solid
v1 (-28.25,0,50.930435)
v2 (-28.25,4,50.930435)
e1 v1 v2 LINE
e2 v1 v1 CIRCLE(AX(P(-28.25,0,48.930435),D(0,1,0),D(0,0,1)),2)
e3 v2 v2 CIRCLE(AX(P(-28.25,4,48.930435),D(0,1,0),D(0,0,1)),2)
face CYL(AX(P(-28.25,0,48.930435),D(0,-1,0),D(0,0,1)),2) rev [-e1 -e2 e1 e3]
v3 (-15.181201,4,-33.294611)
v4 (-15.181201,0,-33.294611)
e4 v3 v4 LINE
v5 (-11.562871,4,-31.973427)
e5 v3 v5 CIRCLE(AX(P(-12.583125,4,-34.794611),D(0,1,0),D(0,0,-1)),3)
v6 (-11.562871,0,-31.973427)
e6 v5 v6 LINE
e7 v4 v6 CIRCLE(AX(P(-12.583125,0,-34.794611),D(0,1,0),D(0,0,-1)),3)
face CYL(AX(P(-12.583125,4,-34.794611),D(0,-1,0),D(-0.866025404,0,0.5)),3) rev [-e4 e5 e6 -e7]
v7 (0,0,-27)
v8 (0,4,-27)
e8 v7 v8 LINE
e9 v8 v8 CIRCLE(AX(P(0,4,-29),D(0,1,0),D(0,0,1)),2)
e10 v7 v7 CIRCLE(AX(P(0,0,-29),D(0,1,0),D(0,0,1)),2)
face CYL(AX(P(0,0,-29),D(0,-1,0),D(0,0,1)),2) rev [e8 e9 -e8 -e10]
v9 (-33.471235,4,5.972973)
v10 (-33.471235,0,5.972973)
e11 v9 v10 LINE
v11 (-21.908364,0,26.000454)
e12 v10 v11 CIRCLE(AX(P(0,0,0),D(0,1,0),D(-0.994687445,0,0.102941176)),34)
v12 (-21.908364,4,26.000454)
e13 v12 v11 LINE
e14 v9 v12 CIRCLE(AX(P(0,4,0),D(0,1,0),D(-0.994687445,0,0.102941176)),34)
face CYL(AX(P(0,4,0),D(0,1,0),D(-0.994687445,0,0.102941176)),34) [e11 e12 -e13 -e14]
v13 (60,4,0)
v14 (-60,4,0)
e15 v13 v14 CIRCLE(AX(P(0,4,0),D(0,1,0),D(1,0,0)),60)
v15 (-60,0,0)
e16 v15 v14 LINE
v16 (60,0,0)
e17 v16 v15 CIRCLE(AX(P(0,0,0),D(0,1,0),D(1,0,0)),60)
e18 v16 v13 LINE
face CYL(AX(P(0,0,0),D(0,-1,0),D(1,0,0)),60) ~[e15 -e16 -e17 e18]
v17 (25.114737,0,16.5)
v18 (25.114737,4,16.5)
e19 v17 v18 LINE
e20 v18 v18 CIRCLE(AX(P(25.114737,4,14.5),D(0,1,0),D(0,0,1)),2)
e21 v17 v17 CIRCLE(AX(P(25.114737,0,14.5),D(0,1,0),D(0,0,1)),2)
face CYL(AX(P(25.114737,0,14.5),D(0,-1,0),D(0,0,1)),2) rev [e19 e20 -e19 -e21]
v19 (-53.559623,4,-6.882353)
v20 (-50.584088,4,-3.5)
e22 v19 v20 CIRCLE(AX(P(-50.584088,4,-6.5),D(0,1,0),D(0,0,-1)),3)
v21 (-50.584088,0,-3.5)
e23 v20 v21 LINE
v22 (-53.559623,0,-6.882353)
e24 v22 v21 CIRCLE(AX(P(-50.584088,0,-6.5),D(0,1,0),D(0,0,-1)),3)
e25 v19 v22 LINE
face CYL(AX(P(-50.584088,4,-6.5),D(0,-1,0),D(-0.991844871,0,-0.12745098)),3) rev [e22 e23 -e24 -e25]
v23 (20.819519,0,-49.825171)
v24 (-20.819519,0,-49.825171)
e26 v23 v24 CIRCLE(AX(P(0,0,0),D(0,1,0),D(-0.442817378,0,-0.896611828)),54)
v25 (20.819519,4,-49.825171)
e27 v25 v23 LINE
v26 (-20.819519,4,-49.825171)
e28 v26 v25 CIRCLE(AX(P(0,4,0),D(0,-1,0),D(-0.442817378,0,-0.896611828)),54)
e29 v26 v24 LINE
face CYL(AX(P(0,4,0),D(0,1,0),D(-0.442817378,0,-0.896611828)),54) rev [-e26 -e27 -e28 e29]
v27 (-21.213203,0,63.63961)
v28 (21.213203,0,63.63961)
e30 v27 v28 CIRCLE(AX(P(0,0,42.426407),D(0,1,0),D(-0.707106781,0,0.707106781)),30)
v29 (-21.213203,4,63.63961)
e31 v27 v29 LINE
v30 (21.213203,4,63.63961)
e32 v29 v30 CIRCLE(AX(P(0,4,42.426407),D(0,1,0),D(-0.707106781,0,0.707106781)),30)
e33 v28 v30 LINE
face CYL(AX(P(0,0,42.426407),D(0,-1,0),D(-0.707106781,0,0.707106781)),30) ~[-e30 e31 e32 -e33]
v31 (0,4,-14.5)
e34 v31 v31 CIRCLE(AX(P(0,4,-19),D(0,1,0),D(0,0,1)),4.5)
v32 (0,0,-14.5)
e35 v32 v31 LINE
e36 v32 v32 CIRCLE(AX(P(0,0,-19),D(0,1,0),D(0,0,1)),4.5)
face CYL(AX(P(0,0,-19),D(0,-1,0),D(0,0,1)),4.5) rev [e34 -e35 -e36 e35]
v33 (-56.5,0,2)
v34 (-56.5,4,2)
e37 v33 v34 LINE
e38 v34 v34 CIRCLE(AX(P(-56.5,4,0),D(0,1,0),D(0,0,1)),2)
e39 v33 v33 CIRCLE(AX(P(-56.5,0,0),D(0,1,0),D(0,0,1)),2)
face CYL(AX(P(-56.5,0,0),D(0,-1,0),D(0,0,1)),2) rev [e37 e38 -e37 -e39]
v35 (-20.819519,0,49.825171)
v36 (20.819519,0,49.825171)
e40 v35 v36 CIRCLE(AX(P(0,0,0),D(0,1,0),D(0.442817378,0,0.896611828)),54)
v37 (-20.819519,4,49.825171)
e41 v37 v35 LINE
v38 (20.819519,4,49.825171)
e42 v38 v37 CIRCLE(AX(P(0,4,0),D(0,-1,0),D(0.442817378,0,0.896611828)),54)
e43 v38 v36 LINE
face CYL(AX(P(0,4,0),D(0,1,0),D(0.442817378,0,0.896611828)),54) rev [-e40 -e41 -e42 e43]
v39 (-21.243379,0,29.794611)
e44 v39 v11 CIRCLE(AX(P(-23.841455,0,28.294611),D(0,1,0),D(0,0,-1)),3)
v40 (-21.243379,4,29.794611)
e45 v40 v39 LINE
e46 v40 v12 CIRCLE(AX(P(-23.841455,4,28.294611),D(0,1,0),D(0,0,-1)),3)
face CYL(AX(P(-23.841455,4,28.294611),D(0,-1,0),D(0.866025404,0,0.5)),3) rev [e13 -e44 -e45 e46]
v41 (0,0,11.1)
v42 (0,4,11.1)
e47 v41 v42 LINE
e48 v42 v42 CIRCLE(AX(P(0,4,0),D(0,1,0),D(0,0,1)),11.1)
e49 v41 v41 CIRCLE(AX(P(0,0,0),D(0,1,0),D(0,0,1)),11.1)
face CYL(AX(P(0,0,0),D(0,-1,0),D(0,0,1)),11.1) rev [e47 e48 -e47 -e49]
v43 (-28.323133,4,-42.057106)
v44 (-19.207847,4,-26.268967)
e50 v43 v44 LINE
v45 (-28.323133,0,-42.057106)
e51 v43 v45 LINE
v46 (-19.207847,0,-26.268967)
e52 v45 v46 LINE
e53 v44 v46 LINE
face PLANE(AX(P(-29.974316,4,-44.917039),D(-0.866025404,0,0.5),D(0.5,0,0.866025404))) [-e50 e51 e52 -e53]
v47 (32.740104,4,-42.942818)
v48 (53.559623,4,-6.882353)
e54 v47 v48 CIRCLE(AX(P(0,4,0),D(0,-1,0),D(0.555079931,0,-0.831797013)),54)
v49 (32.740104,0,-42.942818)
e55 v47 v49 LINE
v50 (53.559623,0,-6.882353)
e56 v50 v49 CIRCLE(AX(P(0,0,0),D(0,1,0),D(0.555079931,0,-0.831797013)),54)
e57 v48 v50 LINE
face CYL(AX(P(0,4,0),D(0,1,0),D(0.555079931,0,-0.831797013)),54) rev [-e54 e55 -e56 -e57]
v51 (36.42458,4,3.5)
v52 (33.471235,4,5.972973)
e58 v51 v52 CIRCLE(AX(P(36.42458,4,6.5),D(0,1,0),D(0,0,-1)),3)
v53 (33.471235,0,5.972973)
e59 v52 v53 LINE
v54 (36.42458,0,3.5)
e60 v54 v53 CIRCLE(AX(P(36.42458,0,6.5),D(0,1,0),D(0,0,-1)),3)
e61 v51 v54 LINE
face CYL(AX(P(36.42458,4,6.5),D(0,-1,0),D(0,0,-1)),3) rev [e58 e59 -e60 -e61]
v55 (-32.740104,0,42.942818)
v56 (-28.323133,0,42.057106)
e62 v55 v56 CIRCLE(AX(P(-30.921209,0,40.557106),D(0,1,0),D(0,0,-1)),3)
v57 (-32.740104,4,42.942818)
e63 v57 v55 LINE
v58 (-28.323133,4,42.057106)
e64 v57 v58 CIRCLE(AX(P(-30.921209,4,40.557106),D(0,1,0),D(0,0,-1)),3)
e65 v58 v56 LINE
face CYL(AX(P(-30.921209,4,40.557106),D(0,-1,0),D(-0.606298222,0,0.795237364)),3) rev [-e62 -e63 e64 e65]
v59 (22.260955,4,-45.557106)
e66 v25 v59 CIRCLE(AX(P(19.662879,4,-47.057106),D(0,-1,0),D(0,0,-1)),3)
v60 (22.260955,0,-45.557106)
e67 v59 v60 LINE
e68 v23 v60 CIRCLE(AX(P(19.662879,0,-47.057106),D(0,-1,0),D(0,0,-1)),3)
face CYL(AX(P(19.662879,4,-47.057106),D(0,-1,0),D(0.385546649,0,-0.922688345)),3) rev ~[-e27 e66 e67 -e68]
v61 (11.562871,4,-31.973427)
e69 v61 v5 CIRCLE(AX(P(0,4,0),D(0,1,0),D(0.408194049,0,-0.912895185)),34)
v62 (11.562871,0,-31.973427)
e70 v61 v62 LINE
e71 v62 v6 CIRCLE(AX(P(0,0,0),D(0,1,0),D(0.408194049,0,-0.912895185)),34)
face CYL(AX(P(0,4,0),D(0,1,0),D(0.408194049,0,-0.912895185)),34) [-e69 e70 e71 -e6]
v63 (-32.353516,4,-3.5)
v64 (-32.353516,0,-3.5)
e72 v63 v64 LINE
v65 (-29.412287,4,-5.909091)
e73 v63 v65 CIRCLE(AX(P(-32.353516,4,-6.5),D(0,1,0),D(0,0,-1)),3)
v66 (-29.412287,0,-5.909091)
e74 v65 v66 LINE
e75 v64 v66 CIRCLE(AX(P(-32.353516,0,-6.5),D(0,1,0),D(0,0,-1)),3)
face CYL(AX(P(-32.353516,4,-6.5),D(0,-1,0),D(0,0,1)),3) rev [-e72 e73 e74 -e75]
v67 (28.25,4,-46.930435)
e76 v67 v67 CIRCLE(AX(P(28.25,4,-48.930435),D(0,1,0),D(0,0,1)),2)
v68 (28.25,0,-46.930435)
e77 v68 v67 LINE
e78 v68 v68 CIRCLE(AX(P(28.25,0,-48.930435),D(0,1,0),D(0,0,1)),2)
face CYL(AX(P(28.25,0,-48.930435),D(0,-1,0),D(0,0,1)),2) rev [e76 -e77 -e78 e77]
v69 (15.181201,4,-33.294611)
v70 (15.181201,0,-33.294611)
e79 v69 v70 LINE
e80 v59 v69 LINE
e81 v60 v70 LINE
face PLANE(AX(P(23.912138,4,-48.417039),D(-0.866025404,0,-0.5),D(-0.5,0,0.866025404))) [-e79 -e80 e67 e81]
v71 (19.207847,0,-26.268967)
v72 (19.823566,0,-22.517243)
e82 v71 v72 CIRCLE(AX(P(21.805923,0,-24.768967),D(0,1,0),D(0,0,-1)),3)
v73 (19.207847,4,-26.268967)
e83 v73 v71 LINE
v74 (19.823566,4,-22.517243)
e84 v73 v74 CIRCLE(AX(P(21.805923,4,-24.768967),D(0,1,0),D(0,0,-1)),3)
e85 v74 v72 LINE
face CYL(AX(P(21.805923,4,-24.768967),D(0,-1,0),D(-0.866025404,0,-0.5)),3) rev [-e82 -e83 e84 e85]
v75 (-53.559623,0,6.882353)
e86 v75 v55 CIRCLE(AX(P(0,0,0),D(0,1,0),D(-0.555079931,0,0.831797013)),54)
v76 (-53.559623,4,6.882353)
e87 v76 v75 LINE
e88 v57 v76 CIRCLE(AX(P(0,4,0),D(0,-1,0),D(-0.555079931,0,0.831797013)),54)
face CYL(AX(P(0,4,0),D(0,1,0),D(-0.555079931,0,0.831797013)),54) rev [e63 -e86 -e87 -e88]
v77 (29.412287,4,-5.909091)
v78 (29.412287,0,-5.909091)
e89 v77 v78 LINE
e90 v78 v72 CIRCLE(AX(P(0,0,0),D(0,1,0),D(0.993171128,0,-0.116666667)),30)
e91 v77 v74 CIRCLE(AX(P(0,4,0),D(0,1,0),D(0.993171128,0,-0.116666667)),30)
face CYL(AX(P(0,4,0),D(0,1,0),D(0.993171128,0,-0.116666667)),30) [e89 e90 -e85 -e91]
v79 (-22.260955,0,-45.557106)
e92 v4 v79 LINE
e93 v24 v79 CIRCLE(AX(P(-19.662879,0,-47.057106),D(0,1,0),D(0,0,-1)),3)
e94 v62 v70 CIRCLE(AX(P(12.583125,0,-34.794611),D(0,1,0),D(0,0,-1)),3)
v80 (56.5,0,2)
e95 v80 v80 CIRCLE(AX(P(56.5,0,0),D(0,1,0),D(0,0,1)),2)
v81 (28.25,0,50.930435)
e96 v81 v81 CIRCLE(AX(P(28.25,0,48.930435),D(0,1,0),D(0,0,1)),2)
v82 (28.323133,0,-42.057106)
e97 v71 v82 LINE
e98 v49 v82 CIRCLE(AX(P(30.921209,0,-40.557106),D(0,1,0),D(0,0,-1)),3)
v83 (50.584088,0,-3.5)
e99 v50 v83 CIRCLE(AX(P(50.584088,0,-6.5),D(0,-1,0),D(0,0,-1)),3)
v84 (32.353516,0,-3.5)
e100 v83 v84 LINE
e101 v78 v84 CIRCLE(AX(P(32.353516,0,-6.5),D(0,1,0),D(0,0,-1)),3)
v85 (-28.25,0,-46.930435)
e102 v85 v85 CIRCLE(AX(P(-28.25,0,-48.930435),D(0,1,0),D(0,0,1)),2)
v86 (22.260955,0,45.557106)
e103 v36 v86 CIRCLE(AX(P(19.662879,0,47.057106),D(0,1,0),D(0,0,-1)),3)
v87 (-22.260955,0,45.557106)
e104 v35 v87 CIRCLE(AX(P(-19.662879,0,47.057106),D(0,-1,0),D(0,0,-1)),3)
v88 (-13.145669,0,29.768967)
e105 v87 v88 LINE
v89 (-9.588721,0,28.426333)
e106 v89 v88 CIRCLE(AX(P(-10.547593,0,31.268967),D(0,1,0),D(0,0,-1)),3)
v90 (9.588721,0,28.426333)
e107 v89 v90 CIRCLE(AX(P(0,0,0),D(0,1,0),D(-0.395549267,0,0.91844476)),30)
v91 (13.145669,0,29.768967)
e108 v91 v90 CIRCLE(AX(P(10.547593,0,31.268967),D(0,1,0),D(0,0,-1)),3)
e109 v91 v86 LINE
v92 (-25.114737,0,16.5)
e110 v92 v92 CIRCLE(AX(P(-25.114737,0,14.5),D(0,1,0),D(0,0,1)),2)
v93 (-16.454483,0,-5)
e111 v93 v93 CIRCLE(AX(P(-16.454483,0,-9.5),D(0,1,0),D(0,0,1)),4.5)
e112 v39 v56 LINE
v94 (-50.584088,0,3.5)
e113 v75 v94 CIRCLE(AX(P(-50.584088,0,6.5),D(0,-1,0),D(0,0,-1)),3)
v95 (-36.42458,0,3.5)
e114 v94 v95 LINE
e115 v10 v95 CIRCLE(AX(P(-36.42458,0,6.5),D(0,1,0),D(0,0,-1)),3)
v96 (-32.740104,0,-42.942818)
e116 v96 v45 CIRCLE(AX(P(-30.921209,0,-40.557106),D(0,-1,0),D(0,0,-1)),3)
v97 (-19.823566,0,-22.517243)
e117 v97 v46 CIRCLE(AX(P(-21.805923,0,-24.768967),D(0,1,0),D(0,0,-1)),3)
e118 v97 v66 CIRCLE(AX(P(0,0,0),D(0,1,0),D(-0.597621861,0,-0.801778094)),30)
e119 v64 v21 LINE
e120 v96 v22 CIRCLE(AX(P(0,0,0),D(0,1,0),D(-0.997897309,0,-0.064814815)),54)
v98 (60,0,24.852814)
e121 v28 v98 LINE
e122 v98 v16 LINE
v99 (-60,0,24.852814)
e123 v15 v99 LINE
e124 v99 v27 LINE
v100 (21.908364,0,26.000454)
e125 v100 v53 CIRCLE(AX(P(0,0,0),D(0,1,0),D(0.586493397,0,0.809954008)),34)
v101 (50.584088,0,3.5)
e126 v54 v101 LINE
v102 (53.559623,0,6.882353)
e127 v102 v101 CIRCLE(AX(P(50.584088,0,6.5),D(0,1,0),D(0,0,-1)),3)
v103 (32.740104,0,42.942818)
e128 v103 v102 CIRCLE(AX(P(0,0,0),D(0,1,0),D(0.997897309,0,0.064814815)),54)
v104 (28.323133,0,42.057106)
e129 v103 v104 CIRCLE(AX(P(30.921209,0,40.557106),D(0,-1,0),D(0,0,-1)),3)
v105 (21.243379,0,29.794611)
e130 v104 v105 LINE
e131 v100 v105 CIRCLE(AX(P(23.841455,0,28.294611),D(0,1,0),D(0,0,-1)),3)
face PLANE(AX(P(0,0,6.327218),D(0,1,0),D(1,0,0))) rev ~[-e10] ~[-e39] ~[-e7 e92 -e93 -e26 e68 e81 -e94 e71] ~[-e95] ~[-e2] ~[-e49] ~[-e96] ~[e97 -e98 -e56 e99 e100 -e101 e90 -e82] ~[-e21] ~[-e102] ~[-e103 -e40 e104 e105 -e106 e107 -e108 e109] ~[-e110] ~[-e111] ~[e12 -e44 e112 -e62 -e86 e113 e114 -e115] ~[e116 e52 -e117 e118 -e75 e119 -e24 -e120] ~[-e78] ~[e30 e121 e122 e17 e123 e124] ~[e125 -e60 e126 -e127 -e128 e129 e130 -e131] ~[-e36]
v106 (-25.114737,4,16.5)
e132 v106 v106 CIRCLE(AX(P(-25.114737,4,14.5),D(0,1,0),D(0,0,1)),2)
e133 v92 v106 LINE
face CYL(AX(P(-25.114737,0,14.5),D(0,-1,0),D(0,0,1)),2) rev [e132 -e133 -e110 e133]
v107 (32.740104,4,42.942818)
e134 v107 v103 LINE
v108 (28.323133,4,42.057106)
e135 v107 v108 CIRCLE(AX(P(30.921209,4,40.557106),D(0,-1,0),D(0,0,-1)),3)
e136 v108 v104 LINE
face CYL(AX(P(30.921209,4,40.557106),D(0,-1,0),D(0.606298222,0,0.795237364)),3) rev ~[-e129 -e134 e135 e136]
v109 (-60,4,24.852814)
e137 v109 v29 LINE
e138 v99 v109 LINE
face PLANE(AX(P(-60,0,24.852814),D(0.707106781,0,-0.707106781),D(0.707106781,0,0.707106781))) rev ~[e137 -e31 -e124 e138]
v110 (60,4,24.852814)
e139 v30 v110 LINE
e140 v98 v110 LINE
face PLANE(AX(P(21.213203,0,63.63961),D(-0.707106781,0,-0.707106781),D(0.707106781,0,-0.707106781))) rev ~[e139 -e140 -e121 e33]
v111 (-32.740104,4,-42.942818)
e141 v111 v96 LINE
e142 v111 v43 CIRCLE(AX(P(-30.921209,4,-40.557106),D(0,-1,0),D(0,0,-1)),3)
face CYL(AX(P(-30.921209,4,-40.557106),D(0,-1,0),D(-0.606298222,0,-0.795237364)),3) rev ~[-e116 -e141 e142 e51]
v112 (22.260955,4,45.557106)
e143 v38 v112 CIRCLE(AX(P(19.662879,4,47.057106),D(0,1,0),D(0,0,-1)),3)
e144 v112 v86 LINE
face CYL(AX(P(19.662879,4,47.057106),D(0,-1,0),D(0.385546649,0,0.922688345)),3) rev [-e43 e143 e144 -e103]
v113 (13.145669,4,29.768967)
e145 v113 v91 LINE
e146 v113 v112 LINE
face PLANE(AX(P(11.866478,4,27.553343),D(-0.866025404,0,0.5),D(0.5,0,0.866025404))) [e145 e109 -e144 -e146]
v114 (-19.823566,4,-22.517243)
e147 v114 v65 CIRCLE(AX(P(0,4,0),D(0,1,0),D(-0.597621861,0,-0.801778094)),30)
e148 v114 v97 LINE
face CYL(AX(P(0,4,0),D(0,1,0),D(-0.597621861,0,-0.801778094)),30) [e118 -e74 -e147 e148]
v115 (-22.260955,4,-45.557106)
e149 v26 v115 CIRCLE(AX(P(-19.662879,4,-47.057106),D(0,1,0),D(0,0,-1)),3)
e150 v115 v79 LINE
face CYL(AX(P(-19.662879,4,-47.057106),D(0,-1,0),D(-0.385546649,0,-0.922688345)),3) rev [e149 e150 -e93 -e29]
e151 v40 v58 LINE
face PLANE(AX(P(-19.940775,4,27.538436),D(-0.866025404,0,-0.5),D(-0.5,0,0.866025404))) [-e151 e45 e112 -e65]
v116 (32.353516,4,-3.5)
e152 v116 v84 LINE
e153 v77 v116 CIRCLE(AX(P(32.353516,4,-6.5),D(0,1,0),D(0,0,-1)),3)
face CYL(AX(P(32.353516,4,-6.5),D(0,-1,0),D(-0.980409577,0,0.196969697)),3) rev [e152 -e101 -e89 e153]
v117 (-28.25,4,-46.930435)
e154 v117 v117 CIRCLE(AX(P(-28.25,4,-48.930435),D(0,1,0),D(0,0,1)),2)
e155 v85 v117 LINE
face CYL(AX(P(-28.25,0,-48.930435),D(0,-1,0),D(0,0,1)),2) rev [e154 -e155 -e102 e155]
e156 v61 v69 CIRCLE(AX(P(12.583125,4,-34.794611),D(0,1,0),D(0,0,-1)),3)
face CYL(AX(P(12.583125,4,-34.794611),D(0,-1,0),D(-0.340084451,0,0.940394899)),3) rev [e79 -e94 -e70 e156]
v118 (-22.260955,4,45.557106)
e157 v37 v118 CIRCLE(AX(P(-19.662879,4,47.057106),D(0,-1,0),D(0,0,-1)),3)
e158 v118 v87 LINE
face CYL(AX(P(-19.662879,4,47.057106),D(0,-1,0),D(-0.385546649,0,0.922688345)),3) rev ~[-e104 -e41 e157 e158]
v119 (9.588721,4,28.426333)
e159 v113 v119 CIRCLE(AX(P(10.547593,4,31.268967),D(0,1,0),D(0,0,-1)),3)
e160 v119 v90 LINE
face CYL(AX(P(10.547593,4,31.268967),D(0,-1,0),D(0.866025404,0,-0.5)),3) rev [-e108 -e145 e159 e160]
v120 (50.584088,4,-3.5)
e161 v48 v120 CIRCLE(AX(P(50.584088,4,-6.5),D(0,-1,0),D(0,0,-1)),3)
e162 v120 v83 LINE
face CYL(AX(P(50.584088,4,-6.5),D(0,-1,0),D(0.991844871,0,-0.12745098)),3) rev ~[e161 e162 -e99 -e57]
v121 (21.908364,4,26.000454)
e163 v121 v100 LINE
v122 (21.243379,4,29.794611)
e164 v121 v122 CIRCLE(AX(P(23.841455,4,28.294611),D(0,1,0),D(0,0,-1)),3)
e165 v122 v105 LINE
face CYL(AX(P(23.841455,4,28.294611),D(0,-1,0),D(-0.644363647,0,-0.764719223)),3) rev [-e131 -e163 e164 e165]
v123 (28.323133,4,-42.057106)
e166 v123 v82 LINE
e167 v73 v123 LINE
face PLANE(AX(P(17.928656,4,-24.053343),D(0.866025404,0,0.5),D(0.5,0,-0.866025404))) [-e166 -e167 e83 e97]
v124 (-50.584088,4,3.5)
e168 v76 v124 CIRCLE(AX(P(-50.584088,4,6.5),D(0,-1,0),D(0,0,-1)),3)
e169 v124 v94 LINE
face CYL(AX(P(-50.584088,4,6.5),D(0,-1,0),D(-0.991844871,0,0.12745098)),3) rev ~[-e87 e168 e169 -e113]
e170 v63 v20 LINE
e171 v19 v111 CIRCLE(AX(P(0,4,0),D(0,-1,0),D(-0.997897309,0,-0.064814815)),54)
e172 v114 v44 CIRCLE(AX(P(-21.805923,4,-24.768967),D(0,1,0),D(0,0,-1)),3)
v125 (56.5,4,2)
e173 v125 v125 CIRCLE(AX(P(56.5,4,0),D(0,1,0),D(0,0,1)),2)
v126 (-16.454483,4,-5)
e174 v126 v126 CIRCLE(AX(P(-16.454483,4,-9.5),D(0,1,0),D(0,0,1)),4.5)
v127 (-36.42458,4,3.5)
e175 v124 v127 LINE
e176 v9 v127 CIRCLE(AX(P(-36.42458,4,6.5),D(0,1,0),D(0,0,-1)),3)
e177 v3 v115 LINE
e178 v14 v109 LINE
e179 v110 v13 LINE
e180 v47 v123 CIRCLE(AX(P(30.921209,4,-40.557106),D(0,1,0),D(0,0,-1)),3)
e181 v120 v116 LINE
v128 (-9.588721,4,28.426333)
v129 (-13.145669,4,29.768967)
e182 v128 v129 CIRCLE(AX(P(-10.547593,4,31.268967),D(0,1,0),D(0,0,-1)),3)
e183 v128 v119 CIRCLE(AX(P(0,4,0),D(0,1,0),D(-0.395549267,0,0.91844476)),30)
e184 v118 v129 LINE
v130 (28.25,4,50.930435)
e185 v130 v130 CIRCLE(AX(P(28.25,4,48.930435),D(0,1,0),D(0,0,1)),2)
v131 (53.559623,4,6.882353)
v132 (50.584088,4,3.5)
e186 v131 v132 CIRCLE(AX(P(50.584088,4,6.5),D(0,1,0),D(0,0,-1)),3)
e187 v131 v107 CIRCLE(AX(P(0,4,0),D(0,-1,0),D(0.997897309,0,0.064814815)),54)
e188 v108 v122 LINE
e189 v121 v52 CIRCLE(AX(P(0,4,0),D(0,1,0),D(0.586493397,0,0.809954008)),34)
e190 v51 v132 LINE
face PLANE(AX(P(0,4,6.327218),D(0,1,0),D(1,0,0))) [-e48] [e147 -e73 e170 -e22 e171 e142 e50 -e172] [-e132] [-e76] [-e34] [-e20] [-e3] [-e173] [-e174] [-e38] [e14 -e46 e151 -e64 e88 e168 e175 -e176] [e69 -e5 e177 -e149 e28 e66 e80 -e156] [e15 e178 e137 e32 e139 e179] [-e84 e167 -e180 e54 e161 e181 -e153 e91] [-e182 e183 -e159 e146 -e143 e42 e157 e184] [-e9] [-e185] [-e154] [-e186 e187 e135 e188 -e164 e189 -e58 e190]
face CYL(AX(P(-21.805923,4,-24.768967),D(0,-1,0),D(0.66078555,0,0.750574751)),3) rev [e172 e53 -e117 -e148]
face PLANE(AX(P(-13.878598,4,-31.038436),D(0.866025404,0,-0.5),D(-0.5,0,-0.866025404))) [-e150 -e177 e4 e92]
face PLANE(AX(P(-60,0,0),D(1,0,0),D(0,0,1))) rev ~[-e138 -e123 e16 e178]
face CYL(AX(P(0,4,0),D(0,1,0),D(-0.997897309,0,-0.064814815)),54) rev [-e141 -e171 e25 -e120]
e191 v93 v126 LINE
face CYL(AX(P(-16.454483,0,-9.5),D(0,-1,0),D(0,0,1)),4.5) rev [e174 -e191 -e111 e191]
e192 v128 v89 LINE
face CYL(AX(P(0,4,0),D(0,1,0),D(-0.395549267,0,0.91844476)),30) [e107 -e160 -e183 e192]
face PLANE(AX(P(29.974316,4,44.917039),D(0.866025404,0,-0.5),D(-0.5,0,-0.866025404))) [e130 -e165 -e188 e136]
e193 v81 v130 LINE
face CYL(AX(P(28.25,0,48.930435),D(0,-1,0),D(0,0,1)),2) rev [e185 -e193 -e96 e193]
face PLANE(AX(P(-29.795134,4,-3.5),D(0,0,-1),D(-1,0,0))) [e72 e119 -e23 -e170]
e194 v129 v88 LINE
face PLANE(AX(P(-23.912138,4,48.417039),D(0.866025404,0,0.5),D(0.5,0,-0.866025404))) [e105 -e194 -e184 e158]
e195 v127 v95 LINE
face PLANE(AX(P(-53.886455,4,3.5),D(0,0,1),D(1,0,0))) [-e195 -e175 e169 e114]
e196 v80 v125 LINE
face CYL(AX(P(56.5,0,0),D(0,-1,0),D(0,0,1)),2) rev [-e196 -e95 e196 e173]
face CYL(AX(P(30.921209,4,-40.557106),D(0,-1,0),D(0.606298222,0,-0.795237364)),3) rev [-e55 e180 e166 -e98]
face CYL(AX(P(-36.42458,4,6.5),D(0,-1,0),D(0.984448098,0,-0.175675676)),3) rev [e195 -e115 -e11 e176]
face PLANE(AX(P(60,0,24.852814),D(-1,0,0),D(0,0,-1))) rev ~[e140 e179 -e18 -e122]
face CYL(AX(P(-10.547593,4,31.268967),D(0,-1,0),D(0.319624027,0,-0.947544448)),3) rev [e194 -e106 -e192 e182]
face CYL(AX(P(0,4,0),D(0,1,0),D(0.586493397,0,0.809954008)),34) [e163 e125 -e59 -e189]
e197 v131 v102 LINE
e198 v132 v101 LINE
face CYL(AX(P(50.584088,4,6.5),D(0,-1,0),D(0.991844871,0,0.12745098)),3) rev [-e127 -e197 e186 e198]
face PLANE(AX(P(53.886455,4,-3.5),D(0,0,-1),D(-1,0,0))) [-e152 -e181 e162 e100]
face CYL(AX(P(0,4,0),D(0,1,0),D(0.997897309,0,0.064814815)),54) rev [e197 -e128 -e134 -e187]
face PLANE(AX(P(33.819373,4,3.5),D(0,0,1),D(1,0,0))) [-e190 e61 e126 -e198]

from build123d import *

# Parameters (mm, degrees)
SKETCH_1_R          = 2
SKETCH_1_R_2        = 11.1
SKETCH_1_R_3        = 4.5
EXTRUDE_1_DEPTH     = 4
CUT_EXTRUDE_1_DEPTH = 95.135988932
FILLET_2_R          = 3


with BuildPart() as part:
    # 草图1 → 凸台-拉伸1 (new body)
    with BuildSketch(Plane(origin=(0, 0, 0), x_dir=(1, 0, 0), z_dir=(0, 1, 0))):
        with BuildLine():
            Line((-60, -24.852813742), (-21.213203436, -63.639610307))
            ThreePointArc((-21.213203436, -63.639610307), (0, -72.426406871), (21.213203436, -63.639610307))
            Line((21.213203436, -63.639610307), (60, -24.852813742))
            Line((60, -24.852813742), (60, 0))
            ThreePointArc((60, 0), (0, 60), (-60, 0))
            Line((-60, 0), (-60, -24.852813742))
        make_face()
        with Locations(Location((-28.25, 48.930435314, 0), (0, 0, 270))):
            Circle(SKETCH_1_R, mode=Mode.SUBTRACT)
        with Locations(Location((28.25, 48.930435314, 0), (0, 0, 270))):
            Circle(SKETCH_1_R, mode=Mode.SUBTRACT)
        with Locations(Location((56.5, 0, 0), (0, 0, 270))):
            Circle(SKETCH_1_R, mode=Mode.SUBTRACT)
        with Locations(Location((28.25, -48.930435314, 0), (0, 0, 270))):
            Circle(SKETCH_1_R, mode=Mode.SUBTRACT)
        with Locations(Location((0, 0, 0), (0, 0, 270))):
            Circle(SKETCH_1_R_2, mode=Mode.SUBTRACT)
        with Locations(Location((-28.25, -48.930435314, 0), (0, 0, 270))):
            Circle(SKETCH_1_R, mode=Mode.SUBTRACT)
        with Locations(Location((-56.5, 0, 0), (0, 0, 270))):
            Circle(SKETCH_1_R, mode=Mode.SUBTRACT)
        with Locations(Location((0, 29, 0), (0, 0, 270))):
            Circle(SKETCH_1_R, mode=Mode.SUBTRACT)
        with Locations(Location((25.11473671, -14.5, 0), (0, 0, 270))):
            Circle(SKETCH_1_R, mode=Mode.SUBTRACT)
        with Locations(Location((-25.11473671, -14.5, 0), (0, 0, 270))):
            Circle(SKETCH_1_R, mode=Mode.SUBTRACT)
        with Locations(Location((0, 19, 0), (0, 0, 270))):
            Circle(SKETCH_1_R_3, mode=Mode.SUBTRACT)
        with Locations(Location((-16.454482672, 9.5, 0), (0, 0, 270))):
            Circle(SKETCH_1_R_3, mode=Mode.SUBTRACT)
    extrude(amount=EXTRUDE_1_DEPTH)

    # 草图2 → 切除-拉伸1 (cut, through all)
    with BuildSketch(Plane(origin=(0, 4, 0), x_dir=(1, 0, 0), z_dir=(0, 1, 0))):
        with BuildLine():
            Line((-29.974316263, 44.917038689), (-17.928655829, 24.053342807))
            ThreePointArc((-17.928655829, 24.053342807), (-25.980762114, 15), (-29.795133831, 3.5))
            Line((-29.795133831, 3.5), (-53.886454699, 3.5))
            ThreePointArc((-53.886454699, 3.5), (-46.765371804, 27), (-29.974316263, 44.917038689))
        make_face()
        with BuildLine():
            Line((23.912138436, 48.417038689), (13.87859766, 31.038436285))
            ThreePointArc((13.87859766, 31.038436285), (0, 34), (-13.87859766, 31.038436285))
            Line((-13.87859766, 31.038436285), (-23.912138436, 48.417038689))
            ThreePointArc((-23.912138436, 48.417038689), (0, 54), (23.912138436, 48.417038689))
        make_face()
        with BuildLine():
            Line((53.886454699, 3.5), (29.795133831, 3.5))
            ThreePointArc((29.795133831, 3.5), (25.980762114, 15), (17.928655829, 24.053342807))
            Line((17.928655829, 24.053342807), (29.974316263, 44.917038689))
            ThreePointArc((29.974316263, 44.917038689), (46.765371804, 27), (53.886454699, 3.5))
        make_face()
        with BuildLine():
            Line((29.974316263, -44.917038689), (19.940775486, -27.538436285))
            ThreePointArc((19.940775486, -27.538436285), (29.444863729, -17), (33.819373146, -3.5))
            Line((33.819373146, -3.5), (53.886454699, -3.5))
            ThreePointArc((53.886454699, -3.5), (46.765371804, -27), (29.974316263, -44.917038689))
        make_face()
        with BuildLine():
            Line((-23.912138436, -48.417038689), (-11.866478002, -27.553342807))
            ThreePointArc((-11.866478002, -27.553342807), (0, -30), (11.866478002, -27.553342807))
            Line((11.866478002, -27.553342807), (23.912138436, -48.417038689))
            ThreePointArc((23.912138436, -48.417038689), (0, -54), (-23.912138436, -48.417038689))
        make_face()
        with BuildLine():
            Line((-53.886454699, -3.5), (-33.819373146, -3.5))
            ThreePointArc((-33.819373146, -3.5), (-29.444863729, -17), (-19.940775486, -27.538436285))
            Line((-19.940775486, -27.538436285), (-29.974316263, -44.917038689))
            ThreePointArc((-29.974316263, -44.917038689), (-46.765371804, -27), (-53.886454699, -3.5))
        make_face()
    extrude(amount=-CUT_EXTRUDE_1_DEPTH, mode=Mode.SUBTRACT)

    # 圆角2
    fillet_2_edges = [part.edges().sort_by_distance(p)[0] for p in [
        (29.974316263, 2, -44.917038689),
        (53.886454699, 2, -3.5),
        (29.795133831, 2, -3.5),
        (17.928655829, 2, -24.053342807),
        (19.940775486, 2, 27.538436285),
        (33.819373146, 2, 3.5),
        (53.886454699, 2, 3.5),
        (29.974316263, 2, 44.917038689),
        (13.87859766, 2, -31.038436285),
        (-13.87859766, 2, -31.038436285),
        (-23.912138436, 2, -48.417038689),
        (23.912138436, 2, -48.417038689),
        (-29.974316263, 2, 44.917038689),
        (-53.886454699, 2, 3.5),
        (-33.819373146, 2, 3.5),
        (-19.940775486, 2, 27.538436285),
        (-53.886454699, 2, -3.5),
        (-29.974316263, 2, -44.917038689),
        (-17.928655829, 2, -24.053342807),
        (-29.795133831, 2, -3.5),
        (23.912138436, 2, 48.417038689),
        (-23.912138436, 2, 48.417038689),
        (-11.866478002, 2, 27.553342807),
        (11.866478002, 2, 27.553342807),
    ]]
    fillet(fillet_2_edges, radius=FILLET_2_R)


solid = part.part
